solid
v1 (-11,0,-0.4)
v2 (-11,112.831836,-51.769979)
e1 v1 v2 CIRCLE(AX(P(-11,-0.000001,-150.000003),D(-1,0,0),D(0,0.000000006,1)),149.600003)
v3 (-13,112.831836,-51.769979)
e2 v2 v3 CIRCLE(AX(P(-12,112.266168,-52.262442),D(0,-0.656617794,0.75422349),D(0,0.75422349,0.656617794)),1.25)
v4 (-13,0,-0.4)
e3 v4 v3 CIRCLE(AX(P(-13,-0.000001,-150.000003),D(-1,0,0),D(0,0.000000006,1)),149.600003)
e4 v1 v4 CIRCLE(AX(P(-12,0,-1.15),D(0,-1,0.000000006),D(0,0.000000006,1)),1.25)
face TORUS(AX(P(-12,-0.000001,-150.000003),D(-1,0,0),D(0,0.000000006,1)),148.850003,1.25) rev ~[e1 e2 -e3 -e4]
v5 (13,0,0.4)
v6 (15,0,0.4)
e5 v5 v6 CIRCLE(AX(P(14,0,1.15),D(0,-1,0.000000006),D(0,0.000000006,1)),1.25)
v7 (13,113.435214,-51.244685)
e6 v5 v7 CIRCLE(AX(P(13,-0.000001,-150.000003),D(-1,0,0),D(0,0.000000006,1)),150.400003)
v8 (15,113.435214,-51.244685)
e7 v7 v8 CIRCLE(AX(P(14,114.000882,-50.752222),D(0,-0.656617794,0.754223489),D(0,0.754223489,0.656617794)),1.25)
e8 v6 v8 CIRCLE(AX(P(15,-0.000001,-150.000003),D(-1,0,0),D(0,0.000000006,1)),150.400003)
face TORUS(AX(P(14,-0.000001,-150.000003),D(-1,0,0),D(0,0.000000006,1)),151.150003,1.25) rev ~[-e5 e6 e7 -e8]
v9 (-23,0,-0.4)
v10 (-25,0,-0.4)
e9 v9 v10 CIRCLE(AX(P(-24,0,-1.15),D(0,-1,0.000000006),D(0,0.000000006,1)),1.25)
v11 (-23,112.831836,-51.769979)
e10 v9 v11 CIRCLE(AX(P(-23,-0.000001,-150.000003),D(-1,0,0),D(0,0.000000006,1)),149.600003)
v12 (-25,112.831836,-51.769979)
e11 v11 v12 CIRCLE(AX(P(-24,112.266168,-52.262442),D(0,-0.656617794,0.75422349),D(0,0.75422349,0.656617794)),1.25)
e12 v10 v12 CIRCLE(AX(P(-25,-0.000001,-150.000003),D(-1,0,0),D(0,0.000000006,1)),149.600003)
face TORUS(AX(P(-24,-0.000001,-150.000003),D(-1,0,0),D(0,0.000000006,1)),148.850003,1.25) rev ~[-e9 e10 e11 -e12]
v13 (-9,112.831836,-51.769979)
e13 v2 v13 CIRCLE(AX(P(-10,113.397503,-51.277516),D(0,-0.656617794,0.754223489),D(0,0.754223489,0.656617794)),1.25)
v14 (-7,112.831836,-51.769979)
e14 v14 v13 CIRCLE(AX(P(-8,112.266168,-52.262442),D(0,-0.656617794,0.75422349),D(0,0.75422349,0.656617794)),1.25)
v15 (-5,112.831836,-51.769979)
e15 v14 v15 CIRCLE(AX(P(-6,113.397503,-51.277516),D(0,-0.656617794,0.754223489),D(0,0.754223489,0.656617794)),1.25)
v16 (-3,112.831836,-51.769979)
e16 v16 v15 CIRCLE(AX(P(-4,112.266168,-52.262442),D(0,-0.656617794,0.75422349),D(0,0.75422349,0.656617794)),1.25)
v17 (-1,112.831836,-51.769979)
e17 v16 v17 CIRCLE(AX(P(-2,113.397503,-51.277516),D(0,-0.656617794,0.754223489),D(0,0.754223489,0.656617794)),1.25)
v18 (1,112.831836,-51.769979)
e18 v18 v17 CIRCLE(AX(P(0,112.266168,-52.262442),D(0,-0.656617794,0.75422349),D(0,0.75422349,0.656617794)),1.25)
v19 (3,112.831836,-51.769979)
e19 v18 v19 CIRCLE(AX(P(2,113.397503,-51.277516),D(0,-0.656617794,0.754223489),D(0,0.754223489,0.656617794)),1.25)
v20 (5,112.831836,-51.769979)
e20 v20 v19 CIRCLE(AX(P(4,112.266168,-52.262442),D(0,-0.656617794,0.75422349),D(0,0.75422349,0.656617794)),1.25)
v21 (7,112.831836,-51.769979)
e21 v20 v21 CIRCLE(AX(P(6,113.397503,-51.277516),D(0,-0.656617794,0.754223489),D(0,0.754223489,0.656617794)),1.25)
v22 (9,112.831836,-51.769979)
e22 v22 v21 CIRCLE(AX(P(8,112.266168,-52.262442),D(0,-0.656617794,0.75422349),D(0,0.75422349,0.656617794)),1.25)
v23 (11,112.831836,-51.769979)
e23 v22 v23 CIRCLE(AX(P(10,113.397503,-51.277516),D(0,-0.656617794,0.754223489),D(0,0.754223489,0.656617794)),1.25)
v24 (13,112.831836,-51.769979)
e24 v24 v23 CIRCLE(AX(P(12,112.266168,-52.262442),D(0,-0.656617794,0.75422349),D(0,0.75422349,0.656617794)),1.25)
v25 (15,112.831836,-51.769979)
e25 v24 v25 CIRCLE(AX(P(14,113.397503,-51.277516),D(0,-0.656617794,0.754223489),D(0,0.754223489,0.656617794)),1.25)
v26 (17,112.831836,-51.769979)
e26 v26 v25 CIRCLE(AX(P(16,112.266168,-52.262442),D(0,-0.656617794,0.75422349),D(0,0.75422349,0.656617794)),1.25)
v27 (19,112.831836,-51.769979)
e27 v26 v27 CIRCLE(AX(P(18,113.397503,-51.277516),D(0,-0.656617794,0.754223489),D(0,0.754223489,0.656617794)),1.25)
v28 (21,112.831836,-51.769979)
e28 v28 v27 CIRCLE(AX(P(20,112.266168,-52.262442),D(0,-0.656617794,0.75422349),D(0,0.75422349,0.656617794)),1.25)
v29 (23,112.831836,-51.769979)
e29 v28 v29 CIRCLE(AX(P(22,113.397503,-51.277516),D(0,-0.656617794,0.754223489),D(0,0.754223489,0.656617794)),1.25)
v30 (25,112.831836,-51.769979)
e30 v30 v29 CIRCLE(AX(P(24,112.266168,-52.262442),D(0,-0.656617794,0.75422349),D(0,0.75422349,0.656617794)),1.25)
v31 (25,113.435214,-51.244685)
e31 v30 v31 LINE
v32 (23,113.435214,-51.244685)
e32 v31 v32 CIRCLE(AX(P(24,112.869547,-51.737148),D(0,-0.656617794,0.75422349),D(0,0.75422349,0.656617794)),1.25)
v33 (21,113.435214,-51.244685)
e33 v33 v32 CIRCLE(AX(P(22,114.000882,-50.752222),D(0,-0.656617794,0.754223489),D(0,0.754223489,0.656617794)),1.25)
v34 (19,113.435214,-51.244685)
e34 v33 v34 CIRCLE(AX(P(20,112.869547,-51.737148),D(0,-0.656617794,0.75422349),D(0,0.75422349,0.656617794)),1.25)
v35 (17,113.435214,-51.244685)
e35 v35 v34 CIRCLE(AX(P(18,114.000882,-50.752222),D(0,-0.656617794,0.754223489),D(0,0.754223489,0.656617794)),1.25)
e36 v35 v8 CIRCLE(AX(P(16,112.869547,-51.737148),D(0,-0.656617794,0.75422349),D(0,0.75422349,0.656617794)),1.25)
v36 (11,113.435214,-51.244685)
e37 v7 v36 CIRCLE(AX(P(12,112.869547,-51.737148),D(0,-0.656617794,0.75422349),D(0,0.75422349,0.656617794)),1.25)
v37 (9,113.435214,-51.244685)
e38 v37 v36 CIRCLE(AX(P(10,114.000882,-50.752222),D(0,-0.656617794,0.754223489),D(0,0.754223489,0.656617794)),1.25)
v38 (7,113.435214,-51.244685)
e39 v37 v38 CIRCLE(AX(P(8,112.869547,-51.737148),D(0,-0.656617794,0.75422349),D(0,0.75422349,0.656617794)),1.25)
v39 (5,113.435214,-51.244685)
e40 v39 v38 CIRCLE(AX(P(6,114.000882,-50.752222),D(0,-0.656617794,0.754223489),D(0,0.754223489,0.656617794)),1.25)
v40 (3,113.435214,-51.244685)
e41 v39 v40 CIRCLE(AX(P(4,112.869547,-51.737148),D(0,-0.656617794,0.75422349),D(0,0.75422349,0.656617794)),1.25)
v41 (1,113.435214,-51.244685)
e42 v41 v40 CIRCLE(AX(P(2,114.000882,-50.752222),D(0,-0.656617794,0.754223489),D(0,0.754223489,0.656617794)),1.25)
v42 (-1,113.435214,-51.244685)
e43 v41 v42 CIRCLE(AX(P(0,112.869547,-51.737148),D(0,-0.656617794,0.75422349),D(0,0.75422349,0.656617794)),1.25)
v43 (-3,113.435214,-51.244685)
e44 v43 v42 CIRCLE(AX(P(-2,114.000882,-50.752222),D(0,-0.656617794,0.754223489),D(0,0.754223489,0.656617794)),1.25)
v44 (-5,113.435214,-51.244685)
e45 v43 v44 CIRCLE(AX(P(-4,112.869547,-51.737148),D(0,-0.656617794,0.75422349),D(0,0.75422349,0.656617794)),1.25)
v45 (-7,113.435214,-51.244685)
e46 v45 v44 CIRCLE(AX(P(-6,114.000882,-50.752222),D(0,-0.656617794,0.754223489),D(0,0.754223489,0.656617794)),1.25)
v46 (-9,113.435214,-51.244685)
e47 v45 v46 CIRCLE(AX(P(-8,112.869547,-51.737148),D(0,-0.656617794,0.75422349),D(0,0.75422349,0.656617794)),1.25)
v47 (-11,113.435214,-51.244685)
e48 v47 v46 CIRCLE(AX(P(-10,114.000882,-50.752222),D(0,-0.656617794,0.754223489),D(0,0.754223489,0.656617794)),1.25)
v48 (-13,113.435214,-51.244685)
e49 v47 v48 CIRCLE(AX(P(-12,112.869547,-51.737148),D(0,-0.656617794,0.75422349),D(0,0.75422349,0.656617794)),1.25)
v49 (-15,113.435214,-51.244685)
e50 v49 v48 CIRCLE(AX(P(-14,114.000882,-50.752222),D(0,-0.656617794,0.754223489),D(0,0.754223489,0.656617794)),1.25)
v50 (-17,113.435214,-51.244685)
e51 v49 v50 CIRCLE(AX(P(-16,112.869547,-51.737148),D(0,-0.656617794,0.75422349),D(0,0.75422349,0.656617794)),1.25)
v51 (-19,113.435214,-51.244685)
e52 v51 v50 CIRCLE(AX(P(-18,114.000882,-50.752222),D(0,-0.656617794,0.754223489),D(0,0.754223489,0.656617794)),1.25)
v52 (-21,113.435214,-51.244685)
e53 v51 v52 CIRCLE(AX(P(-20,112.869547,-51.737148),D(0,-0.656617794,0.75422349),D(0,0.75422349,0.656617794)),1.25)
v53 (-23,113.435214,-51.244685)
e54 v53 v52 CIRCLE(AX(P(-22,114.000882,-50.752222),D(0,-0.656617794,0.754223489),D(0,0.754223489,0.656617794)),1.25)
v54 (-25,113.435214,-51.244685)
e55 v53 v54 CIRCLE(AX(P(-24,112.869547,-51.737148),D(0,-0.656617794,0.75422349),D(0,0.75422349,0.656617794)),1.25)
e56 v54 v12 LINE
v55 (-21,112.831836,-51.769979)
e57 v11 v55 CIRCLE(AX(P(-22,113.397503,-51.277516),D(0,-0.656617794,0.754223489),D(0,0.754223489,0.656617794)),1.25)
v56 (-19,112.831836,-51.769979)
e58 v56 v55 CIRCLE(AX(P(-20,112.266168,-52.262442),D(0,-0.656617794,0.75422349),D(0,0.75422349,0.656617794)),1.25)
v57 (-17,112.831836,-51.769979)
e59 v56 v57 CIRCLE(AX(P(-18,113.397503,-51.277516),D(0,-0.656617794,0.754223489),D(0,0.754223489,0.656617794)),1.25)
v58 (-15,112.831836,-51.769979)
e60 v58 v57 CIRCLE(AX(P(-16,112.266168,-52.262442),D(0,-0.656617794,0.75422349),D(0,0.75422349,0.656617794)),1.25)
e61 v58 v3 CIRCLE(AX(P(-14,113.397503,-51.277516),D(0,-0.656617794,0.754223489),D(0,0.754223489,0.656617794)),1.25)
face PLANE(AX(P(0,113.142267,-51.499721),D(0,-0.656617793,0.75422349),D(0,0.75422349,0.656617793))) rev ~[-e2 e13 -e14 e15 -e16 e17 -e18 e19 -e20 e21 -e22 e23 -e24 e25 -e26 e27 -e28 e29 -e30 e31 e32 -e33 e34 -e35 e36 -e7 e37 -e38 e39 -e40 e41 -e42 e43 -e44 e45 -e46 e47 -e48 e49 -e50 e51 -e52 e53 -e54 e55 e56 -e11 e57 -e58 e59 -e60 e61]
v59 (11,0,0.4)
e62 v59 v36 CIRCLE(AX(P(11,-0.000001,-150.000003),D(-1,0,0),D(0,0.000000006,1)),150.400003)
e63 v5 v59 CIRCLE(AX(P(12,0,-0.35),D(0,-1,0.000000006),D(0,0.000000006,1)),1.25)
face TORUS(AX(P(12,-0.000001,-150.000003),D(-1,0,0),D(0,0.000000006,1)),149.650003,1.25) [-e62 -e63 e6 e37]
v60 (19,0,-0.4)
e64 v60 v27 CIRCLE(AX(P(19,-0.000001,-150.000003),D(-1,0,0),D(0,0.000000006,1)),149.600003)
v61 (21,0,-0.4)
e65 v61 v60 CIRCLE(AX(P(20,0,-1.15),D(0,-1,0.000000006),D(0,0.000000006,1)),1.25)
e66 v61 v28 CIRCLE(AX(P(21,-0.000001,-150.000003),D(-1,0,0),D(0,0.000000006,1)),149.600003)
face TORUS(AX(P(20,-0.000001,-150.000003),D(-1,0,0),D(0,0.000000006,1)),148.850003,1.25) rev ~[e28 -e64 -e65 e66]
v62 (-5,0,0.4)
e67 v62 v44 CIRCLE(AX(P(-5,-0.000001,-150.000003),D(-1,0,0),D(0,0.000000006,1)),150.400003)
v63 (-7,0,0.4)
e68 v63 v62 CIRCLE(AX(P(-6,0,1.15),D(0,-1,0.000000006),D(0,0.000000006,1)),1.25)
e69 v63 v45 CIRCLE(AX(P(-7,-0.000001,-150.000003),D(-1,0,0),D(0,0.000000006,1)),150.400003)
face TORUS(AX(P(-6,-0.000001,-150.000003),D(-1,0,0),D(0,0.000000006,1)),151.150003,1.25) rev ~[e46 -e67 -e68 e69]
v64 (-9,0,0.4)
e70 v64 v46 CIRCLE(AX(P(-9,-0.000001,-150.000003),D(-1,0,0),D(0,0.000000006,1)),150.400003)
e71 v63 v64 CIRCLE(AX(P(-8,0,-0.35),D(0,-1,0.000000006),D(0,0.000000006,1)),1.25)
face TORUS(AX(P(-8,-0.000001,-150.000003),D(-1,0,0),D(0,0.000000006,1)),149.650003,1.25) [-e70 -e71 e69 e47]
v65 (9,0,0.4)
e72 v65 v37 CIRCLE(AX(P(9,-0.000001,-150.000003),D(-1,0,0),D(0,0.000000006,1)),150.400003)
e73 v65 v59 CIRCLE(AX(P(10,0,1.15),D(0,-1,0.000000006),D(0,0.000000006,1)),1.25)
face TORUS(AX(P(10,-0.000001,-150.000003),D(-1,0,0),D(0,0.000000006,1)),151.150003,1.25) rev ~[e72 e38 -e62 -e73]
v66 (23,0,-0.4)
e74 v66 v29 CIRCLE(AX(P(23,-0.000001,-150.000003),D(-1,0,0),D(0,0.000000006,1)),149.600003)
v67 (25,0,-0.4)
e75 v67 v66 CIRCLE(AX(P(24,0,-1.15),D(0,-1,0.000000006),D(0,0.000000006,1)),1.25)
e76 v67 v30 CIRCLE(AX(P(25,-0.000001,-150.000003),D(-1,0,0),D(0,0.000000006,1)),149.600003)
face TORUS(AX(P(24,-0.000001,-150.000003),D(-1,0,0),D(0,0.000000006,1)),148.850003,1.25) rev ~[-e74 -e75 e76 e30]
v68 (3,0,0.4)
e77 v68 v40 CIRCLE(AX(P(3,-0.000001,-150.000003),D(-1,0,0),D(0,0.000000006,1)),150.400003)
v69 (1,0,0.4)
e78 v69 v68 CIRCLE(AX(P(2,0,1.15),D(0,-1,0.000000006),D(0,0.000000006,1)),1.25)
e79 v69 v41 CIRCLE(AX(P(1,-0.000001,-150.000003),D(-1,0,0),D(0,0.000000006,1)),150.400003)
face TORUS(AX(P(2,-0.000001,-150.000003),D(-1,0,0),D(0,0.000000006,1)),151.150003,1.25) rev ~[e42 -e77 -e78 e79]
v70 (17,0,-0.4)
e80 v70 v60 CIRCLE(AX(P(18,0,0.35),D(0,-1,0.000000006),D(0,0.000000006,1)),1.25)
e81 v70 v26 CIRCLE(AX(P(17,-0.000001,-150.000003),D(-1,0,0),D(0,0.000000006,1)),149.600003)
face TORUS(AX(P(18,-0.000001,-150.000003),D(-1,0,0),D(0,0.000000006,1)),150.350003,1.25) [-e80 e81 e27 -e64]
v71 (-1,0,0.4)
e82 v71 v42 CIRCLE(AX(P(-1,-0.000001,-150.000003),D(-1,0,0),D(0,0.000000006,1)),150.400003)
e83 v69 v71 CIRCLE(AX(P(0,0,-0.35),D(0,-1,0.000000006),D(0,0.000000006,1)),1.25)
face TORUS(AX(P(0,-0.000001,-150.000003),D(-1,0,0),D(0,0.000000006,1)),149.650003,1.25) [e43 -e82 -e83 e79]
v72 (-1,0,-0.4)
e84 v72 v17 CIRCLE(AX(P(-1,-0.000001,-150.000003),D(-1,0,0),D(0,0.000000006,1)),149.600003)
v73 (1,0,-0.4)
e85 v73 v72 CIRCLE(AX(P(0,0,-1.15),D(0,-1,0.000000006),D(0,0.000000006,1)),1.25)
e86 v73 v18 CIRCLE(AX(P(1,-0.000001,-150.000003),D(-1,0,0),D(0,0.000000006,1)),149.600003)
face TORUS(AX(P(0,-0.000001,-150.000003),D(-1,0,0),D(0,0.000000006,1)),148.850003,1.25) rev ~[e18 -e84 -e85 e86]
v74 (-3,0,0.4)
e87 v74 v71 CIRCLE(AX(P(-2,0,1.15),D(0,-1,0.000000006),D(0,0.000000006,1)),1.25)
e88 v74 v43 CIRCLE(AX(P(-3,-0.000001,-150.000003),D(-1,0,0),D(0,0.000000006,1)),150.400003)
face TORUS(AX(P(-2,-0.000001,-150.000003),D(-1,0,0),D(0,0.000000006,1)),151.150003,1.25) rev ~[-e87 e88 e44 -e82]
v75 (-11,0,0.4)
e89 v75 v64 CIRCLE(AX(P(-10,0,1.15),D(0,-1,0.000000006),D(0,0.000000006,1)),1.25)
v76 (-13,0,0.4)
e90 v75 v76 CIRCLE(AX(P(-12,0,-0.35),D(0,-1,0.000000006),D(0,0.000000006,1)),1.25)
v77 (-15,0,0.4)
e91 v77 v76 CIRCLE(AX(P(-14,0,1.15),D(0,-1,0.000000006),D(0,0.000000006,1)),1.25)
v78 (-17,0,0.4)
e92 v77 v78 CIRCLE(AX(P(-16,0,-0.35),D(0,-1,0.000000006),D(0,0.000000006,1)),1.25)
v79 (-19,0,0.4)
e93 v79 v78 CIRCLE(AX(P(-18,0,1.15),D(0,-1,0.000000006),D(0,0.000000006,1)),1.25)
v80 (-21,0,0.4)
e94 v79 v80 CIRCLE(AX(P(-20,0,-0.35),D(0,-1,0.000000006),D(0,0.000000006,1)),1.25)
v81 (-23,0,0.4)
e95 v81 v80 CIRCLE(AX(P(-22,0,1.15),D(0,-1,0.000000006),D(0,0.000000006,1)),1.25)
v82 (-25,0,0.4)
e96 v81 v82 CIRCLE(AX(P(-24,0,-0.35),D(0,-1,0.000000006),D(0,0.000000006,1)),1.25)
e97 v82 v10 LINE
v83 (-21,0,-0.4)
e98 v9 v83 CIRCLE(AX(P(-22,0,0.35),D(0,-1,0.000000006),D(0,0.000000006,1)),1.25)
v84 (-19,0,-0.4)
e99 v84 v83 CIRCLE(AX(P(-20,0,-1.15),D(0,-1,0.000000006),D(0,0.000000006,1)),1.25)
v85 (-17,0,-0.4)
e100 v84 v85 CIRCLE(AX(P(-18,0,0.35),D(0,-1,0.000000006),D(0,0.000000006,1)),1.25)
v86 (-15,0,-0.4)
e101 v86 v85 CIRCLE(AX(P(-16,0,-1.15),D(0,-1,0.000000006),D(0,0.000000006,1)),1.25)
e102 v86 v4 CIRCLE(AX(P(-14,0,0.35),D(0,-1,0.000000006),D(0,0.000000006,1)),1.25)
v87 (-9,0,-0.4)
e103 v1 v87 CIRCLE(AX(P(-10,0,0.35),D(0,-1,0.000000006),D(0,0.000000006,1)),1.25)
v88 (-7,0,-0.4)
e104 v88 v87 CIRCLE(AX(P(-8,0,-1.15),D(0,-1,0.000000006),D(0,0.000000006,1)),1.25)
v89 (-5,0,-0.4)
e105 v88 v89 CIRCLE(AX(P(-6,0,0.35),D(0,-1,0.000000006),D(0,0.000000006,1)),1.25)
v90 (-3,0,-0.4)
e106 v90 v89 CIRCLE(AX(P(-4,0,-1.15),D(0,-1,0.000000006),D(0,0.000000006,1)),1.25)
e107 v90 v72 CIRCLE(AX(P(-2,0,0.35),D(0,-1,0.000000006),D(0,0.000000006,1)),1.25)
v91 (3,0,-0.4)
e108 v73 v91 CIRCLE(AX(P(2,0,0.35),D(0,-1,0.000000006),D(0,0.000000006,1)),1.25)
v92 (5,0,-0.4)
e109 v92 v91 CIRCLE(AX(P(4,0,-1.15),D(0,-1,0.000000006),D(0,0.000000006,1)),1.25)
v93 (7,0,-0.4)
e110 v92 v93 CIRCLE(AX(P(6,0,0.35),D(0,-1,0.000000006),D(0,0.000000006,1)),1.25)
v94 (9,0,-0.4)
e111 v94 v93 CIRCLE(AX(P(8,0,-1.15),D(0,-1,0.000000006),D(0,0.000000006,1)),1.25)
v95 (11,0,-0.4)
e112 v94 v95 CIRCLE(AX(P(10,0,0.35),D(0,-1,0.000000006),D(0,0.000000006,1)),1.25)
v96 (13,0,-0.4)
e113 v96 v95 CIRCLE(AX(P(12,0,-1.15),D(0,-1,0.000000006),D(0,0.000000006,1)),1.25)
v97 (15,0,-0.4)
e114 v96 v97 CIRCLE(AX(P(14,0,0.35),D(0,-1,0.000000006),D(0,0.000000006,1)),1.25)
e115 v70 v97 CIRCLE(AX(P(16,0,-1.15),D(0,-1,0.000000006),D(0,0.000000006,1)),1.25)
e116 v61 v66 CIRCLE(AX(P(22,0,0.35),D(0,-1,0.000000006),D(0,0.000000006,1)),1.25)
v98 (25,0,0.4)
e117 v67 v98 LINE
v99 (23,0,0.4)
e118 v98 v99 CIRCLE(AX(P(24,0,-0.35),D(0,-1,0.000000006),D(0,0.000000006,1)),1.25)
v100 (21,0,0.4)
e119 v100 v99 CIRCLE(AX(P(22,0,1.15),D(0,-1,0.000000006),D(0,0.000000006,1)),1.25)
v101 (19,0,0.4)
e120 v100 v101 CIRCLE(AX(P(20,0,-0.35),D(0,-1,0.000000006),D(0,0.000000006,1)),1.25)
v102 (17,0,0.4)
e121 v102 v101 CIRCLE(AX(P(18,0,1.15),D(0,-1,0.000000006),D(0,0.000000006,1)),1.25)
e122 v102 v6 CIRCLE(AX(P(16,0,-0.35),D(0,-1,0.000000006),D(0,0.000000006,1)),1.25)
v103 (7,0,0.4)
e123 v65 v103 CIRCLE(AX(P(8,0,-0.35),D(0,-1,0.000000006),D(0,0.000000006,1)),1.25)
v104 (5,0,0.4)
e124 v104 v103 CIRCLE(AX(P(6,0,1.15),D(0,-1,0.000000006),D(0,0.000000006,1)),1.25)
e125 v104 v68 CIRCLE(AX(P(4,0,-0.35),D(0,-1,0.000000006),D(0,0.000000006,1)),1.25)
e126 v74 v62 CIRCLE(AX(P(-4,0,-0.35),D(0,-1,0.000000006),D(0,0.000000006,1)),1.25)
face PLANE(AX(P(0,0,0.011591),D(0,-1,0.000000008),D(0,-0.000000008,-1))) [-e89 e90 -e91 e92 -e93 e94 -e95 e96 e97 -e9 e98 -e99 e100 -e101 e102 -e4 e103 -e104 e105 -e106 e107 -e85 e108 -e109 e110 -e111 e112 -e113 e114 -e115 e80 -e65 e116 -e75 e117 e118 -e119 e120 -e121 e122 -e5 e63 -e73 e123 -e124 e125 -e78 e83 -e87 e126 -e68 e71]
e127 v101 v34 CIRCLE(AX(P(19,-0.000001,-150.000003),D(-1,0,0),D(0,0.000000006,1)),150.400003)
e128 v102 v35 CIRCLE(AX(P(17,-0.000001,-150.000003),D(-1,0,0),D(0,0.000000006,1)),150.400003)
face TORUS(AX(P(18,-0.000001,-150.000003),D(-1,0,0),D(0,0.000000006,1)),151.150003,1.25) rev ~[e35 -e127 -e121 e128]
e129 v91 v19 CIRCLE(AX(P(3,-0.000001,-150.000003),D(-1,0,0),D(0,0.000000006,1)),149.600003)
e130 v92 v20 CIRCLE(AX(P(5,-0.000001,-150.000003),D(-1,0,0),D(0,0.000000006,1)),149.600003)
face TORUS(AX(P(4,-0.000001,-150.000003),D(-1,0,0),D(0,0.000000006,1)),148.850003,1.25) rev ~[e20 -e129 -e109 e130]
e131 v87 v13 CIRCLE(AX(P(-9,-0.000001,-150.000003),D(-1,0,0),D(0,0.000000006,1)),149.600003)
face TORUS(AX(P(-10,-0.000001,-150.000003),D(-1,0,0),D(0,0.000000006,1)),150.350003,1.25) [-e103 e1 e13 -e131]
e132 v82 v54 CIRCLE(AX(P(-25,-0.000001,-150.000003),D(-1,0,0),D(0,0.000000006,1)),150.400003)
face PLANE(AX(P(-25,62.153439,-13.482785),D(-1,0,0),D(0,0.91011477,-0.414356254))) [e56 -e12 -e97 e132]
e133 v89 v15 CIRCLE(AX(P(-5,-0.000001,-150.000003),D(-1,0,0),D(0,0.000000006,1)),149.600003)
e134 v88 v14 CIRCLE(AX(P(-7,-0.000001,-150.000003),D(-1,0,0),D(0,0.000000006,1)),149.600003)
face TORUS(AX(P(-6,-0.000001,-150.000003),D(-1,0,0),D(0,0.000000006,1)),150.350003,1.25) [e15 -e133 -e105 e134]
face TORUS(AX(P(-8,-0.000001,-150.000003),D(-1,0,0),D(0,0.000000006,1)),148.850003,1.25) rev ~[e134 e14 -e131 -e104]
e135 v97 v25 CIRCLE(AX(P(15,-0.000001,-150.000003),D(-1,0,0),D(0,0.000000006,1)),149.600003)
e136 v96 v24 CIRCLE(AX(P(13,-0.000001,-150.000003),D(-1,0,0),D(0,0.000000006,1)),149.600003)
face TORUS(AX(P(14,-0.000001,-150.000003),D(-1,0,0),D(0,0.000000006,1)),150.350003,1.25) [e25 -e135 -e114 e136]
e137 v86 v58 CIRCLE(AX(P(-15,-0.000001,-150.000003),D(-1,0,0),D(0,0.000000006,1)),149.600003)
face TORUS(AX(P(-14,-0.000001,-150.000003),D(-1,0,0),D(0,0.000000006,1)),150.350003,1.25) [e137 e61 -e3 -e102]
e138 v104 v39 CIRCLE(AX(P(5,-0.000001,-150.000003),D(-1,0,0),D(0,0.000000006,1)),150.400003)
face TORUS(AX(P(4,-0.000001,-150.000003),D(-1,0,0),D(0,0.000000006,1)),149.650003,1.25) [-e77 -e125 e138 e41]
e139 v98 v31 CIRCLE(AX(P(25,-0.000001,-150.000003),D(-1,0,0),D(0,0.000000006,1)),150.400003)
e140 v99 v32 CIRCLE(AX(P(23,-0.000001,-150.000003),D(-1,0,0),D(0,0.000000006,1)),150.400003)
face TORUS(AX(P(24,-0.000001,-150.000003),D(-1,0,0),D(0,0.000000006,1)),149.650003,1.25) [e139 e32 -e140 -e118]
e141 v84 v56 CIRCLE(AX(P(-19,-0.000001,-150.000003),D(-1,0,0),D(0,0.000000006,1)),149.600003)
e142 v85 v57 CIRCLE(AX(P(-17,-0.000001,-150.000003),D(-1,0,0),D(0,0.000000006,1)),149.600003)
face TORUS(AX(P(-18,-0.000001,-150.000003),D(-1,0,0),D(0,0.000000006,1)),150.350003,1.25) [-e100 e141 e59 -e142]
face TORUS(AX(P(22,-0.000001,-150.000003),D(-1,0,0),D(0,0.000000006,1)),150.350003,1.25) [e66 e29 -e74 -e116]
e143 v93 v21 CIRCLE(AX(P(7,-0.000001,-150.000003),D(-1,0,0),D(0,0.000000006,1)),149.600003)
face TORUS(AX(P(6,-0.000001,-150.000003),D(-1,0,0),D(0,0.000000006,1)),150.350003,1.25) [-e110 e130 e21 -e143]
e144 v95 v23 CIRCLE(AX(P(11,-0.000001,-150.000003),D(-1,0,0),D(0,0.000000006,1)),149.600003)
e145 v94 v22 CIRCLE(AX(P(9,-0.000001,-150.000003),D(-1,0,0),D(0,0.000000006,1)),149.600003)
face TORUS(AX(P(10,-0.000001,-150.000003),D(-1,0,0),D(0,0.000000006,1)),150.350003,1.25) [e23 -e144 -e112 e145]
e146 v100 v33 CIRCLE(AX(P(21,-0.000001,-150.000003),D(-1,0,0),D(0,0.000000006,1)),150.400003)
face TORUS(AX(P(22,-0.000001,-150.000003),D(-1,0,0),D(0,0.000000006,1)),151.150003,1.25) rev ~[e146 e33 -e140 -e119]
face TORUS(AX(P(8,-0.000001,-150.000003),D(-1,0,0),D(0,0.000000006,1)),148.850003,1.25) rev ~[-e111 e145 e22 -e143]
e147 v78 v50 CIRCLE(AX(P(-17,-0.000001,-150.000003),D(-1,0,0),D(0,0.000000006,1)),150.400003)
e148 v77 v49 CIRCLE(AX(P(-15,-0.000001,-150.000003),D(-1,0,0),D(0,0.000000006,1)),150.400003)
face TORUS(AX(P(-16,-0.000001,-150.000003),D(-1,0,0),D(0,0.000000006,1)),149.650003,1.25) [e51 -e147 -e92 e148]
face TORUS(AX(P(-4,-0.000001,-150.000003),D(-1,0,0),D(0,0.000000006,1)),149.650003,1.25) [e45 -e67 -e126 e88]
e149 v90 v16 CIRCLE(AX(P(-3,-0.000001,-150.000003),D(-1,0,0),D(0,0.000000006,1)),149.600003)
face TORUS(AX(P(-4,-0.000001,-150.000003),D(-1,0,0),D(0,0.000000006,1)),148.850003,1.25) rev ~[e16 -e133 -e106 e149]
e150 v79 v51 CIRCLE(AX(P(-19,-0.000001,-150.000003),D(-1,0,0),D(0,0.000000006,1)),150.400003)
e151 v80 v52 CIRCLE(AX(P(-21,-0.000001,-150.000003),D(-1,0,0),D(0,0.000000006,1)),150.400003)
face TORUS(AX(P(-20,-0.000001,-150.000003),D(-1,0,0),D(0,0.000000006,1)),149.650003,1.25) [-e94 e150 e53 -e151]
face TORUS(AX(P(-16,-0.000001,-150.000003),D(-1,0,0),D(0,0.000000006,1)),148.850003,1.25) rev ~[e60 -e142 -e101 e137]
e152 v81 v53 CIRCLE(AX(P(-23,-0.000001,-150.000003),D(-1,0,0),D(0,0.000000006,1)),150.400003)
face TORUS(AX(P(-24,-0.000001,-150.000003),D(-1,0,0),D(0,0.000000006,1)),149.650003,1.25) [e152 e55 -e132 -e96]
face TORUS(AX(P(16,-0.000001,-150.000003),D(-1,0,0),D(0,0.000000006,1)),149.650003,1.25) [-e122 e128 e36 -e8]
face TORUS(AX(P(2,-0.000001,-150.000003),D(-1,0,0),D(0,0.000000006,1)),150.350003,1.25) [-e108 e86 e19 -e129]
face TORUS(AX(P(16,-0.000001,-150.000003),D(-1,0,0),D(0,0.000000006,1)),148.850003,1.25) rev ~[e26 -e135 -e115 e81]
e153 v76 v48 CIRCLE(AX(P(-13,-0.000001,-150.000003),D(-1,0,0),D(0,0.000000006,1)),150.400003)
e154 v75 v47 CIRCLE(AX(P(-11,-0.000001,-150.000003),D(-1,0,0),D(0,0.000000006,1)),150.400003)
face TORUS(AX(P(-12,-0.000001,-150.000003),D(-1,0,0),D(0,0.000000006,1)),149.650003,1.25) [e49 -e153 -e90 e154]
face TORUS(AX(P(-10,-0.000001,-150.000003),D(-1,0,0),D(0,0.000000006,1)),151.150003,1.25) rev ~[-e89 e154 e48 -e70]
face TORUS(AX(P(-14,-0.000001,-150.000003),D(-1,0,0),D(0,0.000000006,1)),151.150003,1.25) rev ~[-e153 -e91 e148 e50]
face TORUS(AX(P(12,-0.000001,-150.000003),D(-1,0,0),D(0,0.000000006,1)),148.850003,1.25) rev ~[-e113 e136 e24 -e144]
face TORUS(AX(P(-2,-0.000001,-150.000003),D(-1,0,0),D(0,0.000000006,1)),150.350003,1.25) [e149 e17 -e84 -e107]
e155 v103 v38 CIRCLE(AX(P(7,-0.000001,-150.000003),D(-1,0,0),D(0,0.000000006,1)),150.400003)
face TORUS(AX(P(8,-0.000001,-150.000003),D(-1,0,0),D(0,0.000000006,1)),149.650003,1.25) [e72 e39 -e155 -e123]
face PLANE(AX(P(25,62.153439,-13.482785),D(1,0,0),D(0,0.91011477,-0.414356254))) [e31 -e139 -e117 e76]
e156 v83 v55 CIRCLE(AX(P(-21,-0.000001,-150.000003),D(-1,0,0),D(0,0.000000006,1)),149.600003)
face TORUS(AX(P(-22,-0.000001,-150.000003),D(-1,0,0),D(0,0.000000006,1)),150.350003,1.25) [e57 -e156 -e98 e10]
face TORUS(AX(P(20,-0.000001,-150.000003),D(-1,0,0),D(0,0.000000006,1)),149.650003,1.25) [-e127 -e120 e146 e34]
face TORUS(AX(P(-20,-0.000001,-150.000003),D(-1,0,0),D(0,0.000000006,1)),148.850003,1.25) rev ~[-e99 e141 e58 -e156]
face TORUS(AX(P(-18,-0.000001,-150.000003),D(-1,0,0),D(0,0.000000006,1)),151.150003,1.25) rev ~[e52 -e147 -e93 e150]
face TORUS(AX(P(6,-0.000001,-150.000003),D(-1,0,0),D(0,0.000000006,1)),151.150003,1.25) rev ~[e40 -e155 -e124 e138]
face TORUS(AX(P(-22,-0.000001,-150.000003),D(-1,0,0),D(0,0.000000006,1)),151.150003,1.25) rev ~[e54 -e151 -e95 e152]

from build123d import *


with BuildPart() as f2:
    # F2: sweep along a path in F1
    with BuildLine(Plane.YZ) as f2_path:
        ThreePointArc((0, 0), (62.153439, -13.482785), (113.133525, -51.507332))
    # F0 (on Front) → F2 (sweep)
    with BuildSketch(Plane.XZ):
        with BuildLine():
            ThreePointArc((-21, -0.4), (-20, 0.1), (-19, -0.4))
            ThreePointArc((-19, -0.4), (-18, -0.9), (-17, -0.4))
            ThreePointArc((-17, -0.4), (-16, 0.1), (-15, -0.4))
            ThreePointArc((-15, -0.4), (-14, -0.9), (-13, -0.4))
            ThreePointArc((-13, -0.4), (-12, 0.1), (-11, -0.4))
            ThreePointArc((-11, -0.4), (-10, -0.9), (-9, -0.4))
            ThreePointArc((-9, -0.4), (-8, 0.1), (-7, -0.4))
            ThreePointArc((-7, -0.4), (-6, -0.9), (-5, -0.4))
            ThreePointArc((-5, -0.4), (-4, 0.1), (-3, -0.4))
            ThreePointArc((-3, -0.4), (-2, -0.9), (-1, -0.4))
            ThreePointArc((-1, -0.4), (0, 0.1), (1, -0.4))
            ThreePointArc((1, -0.4), (2, -0.9), (3, -0.4))
            ThreePointArc((3, -0.4), (4, 0.1), (5, -0.4))
            ThreePointArc((5, -0.4), (6, -0.9), (7, -0.4))
            ThreePointArc((7, -0.4), (8, 0.1), (9, -0.4))
            ThreePointArc((9, -0.4), (10, -0.9), (11, -0.4))
            ThreePointArc((11, -0.4), (12, 0.1), (13, -0.4))
            ThreePointArc((13, -0.4), (14, -0.9), (15, -0.4))
            ThreePointArc((15, -0.4), (16, 0.1), (17, -0.4))
            ThreePointArc((17, -0.4), (18, -0.9), (19, -0.4))
            ThreePointArc((19, -0.4), (20, 0.1), (21, -0.4))
            ThreePointArc((21, -0.4), (22, -0.9), (23, -0.4))
            ThreePointArc((23, -0.4), (24, 0.1), (25, -0.4))
            Line((25, -0.4), (25, 0.4))
            ThreePointArc((25, 0.4), (24, 0.9), (23, 0.4))
            ThreePointArc((23, 0.4), (22, -0.1), (21, 0.4))
            ThreePointArc((21, 0.4), (20, 0.9), (19, 0.4))
            ThreePointArc((19, 0.4), (18, -0.1), (17, 0.4))
            ThreePointArc((17, 0.4), (16, 0.9), (15, 0.4))
            ThreePointArc((15, 0.4), (14, -0.1), (13, 0.4))
            ThreePointArc((13, 0.4), (12, 0.9), (11, 0.4))
            ThreePointArc((11, 0.4), (10, -0.1), (9, 0.4))
            ThreePointArc((9, 0.4), (8, 0.9), (7, 0.4))
            ThreePointArc((7, 0.4), (6, -0.1), (5, 0.4))
            ThreePointArc((5, 0.4), (4, 0.9), (3, 0.4))
            ThreePointArc((3, 0.4), (2, -0.1), (1, 0.4))
            ThreePointArc((1, 0.4), (0, 0.9), (-1, 0.4))
            ThreePointArc((-1, 0.4), (-2, -0.1), (-3, 0.4))
            ThreePointArc((-3, 0.4), (-4, 0.9), (-5, 0.4))
            ThreePointArc((-5, 0.4), (-6, -0.1), (-7, 0.4))
            ThreePointArc((-7, 0.4), (-8, 0.9), (-9, 0.4))
            ThreePointArc((-9, 0.4), (-10, -0.1), (-11, 0.4))
            ThreePointArc((-11, 0.4), (-12, 0.9), (-13, 0.4))
            ThreePointArc((-13, 0.4), (-14, -0.1), (-15, 0.4))
            ThreePointArc((-15, 0.4), (-16, 0.9), (-17, 0.4))
            ThreePointArc((-17, 0.4), (-18, -0.1), (-19, 0.4))
            ThreePointArc((-19, 0.4), (-20, 0.9), (-21, 0.4))
            ThreePointArc((-21, 0.4), (-22, -0.1), (-23, 0.4))
            ThreePointArc((-23, 0.4), (-24, 0.9), (-25, 0.4))
            Line((-25, 0.4), (-25, -0.4))
            ThreePointArc((-25, -0.4), (-24, 0.1), (-23, -0.4))
            ThreePointArc((-23, -0.4), (-22, -0.9), (-21, -0.4))
        make_face()
    sweep(path=f2_path.line)


solid = f2.part
